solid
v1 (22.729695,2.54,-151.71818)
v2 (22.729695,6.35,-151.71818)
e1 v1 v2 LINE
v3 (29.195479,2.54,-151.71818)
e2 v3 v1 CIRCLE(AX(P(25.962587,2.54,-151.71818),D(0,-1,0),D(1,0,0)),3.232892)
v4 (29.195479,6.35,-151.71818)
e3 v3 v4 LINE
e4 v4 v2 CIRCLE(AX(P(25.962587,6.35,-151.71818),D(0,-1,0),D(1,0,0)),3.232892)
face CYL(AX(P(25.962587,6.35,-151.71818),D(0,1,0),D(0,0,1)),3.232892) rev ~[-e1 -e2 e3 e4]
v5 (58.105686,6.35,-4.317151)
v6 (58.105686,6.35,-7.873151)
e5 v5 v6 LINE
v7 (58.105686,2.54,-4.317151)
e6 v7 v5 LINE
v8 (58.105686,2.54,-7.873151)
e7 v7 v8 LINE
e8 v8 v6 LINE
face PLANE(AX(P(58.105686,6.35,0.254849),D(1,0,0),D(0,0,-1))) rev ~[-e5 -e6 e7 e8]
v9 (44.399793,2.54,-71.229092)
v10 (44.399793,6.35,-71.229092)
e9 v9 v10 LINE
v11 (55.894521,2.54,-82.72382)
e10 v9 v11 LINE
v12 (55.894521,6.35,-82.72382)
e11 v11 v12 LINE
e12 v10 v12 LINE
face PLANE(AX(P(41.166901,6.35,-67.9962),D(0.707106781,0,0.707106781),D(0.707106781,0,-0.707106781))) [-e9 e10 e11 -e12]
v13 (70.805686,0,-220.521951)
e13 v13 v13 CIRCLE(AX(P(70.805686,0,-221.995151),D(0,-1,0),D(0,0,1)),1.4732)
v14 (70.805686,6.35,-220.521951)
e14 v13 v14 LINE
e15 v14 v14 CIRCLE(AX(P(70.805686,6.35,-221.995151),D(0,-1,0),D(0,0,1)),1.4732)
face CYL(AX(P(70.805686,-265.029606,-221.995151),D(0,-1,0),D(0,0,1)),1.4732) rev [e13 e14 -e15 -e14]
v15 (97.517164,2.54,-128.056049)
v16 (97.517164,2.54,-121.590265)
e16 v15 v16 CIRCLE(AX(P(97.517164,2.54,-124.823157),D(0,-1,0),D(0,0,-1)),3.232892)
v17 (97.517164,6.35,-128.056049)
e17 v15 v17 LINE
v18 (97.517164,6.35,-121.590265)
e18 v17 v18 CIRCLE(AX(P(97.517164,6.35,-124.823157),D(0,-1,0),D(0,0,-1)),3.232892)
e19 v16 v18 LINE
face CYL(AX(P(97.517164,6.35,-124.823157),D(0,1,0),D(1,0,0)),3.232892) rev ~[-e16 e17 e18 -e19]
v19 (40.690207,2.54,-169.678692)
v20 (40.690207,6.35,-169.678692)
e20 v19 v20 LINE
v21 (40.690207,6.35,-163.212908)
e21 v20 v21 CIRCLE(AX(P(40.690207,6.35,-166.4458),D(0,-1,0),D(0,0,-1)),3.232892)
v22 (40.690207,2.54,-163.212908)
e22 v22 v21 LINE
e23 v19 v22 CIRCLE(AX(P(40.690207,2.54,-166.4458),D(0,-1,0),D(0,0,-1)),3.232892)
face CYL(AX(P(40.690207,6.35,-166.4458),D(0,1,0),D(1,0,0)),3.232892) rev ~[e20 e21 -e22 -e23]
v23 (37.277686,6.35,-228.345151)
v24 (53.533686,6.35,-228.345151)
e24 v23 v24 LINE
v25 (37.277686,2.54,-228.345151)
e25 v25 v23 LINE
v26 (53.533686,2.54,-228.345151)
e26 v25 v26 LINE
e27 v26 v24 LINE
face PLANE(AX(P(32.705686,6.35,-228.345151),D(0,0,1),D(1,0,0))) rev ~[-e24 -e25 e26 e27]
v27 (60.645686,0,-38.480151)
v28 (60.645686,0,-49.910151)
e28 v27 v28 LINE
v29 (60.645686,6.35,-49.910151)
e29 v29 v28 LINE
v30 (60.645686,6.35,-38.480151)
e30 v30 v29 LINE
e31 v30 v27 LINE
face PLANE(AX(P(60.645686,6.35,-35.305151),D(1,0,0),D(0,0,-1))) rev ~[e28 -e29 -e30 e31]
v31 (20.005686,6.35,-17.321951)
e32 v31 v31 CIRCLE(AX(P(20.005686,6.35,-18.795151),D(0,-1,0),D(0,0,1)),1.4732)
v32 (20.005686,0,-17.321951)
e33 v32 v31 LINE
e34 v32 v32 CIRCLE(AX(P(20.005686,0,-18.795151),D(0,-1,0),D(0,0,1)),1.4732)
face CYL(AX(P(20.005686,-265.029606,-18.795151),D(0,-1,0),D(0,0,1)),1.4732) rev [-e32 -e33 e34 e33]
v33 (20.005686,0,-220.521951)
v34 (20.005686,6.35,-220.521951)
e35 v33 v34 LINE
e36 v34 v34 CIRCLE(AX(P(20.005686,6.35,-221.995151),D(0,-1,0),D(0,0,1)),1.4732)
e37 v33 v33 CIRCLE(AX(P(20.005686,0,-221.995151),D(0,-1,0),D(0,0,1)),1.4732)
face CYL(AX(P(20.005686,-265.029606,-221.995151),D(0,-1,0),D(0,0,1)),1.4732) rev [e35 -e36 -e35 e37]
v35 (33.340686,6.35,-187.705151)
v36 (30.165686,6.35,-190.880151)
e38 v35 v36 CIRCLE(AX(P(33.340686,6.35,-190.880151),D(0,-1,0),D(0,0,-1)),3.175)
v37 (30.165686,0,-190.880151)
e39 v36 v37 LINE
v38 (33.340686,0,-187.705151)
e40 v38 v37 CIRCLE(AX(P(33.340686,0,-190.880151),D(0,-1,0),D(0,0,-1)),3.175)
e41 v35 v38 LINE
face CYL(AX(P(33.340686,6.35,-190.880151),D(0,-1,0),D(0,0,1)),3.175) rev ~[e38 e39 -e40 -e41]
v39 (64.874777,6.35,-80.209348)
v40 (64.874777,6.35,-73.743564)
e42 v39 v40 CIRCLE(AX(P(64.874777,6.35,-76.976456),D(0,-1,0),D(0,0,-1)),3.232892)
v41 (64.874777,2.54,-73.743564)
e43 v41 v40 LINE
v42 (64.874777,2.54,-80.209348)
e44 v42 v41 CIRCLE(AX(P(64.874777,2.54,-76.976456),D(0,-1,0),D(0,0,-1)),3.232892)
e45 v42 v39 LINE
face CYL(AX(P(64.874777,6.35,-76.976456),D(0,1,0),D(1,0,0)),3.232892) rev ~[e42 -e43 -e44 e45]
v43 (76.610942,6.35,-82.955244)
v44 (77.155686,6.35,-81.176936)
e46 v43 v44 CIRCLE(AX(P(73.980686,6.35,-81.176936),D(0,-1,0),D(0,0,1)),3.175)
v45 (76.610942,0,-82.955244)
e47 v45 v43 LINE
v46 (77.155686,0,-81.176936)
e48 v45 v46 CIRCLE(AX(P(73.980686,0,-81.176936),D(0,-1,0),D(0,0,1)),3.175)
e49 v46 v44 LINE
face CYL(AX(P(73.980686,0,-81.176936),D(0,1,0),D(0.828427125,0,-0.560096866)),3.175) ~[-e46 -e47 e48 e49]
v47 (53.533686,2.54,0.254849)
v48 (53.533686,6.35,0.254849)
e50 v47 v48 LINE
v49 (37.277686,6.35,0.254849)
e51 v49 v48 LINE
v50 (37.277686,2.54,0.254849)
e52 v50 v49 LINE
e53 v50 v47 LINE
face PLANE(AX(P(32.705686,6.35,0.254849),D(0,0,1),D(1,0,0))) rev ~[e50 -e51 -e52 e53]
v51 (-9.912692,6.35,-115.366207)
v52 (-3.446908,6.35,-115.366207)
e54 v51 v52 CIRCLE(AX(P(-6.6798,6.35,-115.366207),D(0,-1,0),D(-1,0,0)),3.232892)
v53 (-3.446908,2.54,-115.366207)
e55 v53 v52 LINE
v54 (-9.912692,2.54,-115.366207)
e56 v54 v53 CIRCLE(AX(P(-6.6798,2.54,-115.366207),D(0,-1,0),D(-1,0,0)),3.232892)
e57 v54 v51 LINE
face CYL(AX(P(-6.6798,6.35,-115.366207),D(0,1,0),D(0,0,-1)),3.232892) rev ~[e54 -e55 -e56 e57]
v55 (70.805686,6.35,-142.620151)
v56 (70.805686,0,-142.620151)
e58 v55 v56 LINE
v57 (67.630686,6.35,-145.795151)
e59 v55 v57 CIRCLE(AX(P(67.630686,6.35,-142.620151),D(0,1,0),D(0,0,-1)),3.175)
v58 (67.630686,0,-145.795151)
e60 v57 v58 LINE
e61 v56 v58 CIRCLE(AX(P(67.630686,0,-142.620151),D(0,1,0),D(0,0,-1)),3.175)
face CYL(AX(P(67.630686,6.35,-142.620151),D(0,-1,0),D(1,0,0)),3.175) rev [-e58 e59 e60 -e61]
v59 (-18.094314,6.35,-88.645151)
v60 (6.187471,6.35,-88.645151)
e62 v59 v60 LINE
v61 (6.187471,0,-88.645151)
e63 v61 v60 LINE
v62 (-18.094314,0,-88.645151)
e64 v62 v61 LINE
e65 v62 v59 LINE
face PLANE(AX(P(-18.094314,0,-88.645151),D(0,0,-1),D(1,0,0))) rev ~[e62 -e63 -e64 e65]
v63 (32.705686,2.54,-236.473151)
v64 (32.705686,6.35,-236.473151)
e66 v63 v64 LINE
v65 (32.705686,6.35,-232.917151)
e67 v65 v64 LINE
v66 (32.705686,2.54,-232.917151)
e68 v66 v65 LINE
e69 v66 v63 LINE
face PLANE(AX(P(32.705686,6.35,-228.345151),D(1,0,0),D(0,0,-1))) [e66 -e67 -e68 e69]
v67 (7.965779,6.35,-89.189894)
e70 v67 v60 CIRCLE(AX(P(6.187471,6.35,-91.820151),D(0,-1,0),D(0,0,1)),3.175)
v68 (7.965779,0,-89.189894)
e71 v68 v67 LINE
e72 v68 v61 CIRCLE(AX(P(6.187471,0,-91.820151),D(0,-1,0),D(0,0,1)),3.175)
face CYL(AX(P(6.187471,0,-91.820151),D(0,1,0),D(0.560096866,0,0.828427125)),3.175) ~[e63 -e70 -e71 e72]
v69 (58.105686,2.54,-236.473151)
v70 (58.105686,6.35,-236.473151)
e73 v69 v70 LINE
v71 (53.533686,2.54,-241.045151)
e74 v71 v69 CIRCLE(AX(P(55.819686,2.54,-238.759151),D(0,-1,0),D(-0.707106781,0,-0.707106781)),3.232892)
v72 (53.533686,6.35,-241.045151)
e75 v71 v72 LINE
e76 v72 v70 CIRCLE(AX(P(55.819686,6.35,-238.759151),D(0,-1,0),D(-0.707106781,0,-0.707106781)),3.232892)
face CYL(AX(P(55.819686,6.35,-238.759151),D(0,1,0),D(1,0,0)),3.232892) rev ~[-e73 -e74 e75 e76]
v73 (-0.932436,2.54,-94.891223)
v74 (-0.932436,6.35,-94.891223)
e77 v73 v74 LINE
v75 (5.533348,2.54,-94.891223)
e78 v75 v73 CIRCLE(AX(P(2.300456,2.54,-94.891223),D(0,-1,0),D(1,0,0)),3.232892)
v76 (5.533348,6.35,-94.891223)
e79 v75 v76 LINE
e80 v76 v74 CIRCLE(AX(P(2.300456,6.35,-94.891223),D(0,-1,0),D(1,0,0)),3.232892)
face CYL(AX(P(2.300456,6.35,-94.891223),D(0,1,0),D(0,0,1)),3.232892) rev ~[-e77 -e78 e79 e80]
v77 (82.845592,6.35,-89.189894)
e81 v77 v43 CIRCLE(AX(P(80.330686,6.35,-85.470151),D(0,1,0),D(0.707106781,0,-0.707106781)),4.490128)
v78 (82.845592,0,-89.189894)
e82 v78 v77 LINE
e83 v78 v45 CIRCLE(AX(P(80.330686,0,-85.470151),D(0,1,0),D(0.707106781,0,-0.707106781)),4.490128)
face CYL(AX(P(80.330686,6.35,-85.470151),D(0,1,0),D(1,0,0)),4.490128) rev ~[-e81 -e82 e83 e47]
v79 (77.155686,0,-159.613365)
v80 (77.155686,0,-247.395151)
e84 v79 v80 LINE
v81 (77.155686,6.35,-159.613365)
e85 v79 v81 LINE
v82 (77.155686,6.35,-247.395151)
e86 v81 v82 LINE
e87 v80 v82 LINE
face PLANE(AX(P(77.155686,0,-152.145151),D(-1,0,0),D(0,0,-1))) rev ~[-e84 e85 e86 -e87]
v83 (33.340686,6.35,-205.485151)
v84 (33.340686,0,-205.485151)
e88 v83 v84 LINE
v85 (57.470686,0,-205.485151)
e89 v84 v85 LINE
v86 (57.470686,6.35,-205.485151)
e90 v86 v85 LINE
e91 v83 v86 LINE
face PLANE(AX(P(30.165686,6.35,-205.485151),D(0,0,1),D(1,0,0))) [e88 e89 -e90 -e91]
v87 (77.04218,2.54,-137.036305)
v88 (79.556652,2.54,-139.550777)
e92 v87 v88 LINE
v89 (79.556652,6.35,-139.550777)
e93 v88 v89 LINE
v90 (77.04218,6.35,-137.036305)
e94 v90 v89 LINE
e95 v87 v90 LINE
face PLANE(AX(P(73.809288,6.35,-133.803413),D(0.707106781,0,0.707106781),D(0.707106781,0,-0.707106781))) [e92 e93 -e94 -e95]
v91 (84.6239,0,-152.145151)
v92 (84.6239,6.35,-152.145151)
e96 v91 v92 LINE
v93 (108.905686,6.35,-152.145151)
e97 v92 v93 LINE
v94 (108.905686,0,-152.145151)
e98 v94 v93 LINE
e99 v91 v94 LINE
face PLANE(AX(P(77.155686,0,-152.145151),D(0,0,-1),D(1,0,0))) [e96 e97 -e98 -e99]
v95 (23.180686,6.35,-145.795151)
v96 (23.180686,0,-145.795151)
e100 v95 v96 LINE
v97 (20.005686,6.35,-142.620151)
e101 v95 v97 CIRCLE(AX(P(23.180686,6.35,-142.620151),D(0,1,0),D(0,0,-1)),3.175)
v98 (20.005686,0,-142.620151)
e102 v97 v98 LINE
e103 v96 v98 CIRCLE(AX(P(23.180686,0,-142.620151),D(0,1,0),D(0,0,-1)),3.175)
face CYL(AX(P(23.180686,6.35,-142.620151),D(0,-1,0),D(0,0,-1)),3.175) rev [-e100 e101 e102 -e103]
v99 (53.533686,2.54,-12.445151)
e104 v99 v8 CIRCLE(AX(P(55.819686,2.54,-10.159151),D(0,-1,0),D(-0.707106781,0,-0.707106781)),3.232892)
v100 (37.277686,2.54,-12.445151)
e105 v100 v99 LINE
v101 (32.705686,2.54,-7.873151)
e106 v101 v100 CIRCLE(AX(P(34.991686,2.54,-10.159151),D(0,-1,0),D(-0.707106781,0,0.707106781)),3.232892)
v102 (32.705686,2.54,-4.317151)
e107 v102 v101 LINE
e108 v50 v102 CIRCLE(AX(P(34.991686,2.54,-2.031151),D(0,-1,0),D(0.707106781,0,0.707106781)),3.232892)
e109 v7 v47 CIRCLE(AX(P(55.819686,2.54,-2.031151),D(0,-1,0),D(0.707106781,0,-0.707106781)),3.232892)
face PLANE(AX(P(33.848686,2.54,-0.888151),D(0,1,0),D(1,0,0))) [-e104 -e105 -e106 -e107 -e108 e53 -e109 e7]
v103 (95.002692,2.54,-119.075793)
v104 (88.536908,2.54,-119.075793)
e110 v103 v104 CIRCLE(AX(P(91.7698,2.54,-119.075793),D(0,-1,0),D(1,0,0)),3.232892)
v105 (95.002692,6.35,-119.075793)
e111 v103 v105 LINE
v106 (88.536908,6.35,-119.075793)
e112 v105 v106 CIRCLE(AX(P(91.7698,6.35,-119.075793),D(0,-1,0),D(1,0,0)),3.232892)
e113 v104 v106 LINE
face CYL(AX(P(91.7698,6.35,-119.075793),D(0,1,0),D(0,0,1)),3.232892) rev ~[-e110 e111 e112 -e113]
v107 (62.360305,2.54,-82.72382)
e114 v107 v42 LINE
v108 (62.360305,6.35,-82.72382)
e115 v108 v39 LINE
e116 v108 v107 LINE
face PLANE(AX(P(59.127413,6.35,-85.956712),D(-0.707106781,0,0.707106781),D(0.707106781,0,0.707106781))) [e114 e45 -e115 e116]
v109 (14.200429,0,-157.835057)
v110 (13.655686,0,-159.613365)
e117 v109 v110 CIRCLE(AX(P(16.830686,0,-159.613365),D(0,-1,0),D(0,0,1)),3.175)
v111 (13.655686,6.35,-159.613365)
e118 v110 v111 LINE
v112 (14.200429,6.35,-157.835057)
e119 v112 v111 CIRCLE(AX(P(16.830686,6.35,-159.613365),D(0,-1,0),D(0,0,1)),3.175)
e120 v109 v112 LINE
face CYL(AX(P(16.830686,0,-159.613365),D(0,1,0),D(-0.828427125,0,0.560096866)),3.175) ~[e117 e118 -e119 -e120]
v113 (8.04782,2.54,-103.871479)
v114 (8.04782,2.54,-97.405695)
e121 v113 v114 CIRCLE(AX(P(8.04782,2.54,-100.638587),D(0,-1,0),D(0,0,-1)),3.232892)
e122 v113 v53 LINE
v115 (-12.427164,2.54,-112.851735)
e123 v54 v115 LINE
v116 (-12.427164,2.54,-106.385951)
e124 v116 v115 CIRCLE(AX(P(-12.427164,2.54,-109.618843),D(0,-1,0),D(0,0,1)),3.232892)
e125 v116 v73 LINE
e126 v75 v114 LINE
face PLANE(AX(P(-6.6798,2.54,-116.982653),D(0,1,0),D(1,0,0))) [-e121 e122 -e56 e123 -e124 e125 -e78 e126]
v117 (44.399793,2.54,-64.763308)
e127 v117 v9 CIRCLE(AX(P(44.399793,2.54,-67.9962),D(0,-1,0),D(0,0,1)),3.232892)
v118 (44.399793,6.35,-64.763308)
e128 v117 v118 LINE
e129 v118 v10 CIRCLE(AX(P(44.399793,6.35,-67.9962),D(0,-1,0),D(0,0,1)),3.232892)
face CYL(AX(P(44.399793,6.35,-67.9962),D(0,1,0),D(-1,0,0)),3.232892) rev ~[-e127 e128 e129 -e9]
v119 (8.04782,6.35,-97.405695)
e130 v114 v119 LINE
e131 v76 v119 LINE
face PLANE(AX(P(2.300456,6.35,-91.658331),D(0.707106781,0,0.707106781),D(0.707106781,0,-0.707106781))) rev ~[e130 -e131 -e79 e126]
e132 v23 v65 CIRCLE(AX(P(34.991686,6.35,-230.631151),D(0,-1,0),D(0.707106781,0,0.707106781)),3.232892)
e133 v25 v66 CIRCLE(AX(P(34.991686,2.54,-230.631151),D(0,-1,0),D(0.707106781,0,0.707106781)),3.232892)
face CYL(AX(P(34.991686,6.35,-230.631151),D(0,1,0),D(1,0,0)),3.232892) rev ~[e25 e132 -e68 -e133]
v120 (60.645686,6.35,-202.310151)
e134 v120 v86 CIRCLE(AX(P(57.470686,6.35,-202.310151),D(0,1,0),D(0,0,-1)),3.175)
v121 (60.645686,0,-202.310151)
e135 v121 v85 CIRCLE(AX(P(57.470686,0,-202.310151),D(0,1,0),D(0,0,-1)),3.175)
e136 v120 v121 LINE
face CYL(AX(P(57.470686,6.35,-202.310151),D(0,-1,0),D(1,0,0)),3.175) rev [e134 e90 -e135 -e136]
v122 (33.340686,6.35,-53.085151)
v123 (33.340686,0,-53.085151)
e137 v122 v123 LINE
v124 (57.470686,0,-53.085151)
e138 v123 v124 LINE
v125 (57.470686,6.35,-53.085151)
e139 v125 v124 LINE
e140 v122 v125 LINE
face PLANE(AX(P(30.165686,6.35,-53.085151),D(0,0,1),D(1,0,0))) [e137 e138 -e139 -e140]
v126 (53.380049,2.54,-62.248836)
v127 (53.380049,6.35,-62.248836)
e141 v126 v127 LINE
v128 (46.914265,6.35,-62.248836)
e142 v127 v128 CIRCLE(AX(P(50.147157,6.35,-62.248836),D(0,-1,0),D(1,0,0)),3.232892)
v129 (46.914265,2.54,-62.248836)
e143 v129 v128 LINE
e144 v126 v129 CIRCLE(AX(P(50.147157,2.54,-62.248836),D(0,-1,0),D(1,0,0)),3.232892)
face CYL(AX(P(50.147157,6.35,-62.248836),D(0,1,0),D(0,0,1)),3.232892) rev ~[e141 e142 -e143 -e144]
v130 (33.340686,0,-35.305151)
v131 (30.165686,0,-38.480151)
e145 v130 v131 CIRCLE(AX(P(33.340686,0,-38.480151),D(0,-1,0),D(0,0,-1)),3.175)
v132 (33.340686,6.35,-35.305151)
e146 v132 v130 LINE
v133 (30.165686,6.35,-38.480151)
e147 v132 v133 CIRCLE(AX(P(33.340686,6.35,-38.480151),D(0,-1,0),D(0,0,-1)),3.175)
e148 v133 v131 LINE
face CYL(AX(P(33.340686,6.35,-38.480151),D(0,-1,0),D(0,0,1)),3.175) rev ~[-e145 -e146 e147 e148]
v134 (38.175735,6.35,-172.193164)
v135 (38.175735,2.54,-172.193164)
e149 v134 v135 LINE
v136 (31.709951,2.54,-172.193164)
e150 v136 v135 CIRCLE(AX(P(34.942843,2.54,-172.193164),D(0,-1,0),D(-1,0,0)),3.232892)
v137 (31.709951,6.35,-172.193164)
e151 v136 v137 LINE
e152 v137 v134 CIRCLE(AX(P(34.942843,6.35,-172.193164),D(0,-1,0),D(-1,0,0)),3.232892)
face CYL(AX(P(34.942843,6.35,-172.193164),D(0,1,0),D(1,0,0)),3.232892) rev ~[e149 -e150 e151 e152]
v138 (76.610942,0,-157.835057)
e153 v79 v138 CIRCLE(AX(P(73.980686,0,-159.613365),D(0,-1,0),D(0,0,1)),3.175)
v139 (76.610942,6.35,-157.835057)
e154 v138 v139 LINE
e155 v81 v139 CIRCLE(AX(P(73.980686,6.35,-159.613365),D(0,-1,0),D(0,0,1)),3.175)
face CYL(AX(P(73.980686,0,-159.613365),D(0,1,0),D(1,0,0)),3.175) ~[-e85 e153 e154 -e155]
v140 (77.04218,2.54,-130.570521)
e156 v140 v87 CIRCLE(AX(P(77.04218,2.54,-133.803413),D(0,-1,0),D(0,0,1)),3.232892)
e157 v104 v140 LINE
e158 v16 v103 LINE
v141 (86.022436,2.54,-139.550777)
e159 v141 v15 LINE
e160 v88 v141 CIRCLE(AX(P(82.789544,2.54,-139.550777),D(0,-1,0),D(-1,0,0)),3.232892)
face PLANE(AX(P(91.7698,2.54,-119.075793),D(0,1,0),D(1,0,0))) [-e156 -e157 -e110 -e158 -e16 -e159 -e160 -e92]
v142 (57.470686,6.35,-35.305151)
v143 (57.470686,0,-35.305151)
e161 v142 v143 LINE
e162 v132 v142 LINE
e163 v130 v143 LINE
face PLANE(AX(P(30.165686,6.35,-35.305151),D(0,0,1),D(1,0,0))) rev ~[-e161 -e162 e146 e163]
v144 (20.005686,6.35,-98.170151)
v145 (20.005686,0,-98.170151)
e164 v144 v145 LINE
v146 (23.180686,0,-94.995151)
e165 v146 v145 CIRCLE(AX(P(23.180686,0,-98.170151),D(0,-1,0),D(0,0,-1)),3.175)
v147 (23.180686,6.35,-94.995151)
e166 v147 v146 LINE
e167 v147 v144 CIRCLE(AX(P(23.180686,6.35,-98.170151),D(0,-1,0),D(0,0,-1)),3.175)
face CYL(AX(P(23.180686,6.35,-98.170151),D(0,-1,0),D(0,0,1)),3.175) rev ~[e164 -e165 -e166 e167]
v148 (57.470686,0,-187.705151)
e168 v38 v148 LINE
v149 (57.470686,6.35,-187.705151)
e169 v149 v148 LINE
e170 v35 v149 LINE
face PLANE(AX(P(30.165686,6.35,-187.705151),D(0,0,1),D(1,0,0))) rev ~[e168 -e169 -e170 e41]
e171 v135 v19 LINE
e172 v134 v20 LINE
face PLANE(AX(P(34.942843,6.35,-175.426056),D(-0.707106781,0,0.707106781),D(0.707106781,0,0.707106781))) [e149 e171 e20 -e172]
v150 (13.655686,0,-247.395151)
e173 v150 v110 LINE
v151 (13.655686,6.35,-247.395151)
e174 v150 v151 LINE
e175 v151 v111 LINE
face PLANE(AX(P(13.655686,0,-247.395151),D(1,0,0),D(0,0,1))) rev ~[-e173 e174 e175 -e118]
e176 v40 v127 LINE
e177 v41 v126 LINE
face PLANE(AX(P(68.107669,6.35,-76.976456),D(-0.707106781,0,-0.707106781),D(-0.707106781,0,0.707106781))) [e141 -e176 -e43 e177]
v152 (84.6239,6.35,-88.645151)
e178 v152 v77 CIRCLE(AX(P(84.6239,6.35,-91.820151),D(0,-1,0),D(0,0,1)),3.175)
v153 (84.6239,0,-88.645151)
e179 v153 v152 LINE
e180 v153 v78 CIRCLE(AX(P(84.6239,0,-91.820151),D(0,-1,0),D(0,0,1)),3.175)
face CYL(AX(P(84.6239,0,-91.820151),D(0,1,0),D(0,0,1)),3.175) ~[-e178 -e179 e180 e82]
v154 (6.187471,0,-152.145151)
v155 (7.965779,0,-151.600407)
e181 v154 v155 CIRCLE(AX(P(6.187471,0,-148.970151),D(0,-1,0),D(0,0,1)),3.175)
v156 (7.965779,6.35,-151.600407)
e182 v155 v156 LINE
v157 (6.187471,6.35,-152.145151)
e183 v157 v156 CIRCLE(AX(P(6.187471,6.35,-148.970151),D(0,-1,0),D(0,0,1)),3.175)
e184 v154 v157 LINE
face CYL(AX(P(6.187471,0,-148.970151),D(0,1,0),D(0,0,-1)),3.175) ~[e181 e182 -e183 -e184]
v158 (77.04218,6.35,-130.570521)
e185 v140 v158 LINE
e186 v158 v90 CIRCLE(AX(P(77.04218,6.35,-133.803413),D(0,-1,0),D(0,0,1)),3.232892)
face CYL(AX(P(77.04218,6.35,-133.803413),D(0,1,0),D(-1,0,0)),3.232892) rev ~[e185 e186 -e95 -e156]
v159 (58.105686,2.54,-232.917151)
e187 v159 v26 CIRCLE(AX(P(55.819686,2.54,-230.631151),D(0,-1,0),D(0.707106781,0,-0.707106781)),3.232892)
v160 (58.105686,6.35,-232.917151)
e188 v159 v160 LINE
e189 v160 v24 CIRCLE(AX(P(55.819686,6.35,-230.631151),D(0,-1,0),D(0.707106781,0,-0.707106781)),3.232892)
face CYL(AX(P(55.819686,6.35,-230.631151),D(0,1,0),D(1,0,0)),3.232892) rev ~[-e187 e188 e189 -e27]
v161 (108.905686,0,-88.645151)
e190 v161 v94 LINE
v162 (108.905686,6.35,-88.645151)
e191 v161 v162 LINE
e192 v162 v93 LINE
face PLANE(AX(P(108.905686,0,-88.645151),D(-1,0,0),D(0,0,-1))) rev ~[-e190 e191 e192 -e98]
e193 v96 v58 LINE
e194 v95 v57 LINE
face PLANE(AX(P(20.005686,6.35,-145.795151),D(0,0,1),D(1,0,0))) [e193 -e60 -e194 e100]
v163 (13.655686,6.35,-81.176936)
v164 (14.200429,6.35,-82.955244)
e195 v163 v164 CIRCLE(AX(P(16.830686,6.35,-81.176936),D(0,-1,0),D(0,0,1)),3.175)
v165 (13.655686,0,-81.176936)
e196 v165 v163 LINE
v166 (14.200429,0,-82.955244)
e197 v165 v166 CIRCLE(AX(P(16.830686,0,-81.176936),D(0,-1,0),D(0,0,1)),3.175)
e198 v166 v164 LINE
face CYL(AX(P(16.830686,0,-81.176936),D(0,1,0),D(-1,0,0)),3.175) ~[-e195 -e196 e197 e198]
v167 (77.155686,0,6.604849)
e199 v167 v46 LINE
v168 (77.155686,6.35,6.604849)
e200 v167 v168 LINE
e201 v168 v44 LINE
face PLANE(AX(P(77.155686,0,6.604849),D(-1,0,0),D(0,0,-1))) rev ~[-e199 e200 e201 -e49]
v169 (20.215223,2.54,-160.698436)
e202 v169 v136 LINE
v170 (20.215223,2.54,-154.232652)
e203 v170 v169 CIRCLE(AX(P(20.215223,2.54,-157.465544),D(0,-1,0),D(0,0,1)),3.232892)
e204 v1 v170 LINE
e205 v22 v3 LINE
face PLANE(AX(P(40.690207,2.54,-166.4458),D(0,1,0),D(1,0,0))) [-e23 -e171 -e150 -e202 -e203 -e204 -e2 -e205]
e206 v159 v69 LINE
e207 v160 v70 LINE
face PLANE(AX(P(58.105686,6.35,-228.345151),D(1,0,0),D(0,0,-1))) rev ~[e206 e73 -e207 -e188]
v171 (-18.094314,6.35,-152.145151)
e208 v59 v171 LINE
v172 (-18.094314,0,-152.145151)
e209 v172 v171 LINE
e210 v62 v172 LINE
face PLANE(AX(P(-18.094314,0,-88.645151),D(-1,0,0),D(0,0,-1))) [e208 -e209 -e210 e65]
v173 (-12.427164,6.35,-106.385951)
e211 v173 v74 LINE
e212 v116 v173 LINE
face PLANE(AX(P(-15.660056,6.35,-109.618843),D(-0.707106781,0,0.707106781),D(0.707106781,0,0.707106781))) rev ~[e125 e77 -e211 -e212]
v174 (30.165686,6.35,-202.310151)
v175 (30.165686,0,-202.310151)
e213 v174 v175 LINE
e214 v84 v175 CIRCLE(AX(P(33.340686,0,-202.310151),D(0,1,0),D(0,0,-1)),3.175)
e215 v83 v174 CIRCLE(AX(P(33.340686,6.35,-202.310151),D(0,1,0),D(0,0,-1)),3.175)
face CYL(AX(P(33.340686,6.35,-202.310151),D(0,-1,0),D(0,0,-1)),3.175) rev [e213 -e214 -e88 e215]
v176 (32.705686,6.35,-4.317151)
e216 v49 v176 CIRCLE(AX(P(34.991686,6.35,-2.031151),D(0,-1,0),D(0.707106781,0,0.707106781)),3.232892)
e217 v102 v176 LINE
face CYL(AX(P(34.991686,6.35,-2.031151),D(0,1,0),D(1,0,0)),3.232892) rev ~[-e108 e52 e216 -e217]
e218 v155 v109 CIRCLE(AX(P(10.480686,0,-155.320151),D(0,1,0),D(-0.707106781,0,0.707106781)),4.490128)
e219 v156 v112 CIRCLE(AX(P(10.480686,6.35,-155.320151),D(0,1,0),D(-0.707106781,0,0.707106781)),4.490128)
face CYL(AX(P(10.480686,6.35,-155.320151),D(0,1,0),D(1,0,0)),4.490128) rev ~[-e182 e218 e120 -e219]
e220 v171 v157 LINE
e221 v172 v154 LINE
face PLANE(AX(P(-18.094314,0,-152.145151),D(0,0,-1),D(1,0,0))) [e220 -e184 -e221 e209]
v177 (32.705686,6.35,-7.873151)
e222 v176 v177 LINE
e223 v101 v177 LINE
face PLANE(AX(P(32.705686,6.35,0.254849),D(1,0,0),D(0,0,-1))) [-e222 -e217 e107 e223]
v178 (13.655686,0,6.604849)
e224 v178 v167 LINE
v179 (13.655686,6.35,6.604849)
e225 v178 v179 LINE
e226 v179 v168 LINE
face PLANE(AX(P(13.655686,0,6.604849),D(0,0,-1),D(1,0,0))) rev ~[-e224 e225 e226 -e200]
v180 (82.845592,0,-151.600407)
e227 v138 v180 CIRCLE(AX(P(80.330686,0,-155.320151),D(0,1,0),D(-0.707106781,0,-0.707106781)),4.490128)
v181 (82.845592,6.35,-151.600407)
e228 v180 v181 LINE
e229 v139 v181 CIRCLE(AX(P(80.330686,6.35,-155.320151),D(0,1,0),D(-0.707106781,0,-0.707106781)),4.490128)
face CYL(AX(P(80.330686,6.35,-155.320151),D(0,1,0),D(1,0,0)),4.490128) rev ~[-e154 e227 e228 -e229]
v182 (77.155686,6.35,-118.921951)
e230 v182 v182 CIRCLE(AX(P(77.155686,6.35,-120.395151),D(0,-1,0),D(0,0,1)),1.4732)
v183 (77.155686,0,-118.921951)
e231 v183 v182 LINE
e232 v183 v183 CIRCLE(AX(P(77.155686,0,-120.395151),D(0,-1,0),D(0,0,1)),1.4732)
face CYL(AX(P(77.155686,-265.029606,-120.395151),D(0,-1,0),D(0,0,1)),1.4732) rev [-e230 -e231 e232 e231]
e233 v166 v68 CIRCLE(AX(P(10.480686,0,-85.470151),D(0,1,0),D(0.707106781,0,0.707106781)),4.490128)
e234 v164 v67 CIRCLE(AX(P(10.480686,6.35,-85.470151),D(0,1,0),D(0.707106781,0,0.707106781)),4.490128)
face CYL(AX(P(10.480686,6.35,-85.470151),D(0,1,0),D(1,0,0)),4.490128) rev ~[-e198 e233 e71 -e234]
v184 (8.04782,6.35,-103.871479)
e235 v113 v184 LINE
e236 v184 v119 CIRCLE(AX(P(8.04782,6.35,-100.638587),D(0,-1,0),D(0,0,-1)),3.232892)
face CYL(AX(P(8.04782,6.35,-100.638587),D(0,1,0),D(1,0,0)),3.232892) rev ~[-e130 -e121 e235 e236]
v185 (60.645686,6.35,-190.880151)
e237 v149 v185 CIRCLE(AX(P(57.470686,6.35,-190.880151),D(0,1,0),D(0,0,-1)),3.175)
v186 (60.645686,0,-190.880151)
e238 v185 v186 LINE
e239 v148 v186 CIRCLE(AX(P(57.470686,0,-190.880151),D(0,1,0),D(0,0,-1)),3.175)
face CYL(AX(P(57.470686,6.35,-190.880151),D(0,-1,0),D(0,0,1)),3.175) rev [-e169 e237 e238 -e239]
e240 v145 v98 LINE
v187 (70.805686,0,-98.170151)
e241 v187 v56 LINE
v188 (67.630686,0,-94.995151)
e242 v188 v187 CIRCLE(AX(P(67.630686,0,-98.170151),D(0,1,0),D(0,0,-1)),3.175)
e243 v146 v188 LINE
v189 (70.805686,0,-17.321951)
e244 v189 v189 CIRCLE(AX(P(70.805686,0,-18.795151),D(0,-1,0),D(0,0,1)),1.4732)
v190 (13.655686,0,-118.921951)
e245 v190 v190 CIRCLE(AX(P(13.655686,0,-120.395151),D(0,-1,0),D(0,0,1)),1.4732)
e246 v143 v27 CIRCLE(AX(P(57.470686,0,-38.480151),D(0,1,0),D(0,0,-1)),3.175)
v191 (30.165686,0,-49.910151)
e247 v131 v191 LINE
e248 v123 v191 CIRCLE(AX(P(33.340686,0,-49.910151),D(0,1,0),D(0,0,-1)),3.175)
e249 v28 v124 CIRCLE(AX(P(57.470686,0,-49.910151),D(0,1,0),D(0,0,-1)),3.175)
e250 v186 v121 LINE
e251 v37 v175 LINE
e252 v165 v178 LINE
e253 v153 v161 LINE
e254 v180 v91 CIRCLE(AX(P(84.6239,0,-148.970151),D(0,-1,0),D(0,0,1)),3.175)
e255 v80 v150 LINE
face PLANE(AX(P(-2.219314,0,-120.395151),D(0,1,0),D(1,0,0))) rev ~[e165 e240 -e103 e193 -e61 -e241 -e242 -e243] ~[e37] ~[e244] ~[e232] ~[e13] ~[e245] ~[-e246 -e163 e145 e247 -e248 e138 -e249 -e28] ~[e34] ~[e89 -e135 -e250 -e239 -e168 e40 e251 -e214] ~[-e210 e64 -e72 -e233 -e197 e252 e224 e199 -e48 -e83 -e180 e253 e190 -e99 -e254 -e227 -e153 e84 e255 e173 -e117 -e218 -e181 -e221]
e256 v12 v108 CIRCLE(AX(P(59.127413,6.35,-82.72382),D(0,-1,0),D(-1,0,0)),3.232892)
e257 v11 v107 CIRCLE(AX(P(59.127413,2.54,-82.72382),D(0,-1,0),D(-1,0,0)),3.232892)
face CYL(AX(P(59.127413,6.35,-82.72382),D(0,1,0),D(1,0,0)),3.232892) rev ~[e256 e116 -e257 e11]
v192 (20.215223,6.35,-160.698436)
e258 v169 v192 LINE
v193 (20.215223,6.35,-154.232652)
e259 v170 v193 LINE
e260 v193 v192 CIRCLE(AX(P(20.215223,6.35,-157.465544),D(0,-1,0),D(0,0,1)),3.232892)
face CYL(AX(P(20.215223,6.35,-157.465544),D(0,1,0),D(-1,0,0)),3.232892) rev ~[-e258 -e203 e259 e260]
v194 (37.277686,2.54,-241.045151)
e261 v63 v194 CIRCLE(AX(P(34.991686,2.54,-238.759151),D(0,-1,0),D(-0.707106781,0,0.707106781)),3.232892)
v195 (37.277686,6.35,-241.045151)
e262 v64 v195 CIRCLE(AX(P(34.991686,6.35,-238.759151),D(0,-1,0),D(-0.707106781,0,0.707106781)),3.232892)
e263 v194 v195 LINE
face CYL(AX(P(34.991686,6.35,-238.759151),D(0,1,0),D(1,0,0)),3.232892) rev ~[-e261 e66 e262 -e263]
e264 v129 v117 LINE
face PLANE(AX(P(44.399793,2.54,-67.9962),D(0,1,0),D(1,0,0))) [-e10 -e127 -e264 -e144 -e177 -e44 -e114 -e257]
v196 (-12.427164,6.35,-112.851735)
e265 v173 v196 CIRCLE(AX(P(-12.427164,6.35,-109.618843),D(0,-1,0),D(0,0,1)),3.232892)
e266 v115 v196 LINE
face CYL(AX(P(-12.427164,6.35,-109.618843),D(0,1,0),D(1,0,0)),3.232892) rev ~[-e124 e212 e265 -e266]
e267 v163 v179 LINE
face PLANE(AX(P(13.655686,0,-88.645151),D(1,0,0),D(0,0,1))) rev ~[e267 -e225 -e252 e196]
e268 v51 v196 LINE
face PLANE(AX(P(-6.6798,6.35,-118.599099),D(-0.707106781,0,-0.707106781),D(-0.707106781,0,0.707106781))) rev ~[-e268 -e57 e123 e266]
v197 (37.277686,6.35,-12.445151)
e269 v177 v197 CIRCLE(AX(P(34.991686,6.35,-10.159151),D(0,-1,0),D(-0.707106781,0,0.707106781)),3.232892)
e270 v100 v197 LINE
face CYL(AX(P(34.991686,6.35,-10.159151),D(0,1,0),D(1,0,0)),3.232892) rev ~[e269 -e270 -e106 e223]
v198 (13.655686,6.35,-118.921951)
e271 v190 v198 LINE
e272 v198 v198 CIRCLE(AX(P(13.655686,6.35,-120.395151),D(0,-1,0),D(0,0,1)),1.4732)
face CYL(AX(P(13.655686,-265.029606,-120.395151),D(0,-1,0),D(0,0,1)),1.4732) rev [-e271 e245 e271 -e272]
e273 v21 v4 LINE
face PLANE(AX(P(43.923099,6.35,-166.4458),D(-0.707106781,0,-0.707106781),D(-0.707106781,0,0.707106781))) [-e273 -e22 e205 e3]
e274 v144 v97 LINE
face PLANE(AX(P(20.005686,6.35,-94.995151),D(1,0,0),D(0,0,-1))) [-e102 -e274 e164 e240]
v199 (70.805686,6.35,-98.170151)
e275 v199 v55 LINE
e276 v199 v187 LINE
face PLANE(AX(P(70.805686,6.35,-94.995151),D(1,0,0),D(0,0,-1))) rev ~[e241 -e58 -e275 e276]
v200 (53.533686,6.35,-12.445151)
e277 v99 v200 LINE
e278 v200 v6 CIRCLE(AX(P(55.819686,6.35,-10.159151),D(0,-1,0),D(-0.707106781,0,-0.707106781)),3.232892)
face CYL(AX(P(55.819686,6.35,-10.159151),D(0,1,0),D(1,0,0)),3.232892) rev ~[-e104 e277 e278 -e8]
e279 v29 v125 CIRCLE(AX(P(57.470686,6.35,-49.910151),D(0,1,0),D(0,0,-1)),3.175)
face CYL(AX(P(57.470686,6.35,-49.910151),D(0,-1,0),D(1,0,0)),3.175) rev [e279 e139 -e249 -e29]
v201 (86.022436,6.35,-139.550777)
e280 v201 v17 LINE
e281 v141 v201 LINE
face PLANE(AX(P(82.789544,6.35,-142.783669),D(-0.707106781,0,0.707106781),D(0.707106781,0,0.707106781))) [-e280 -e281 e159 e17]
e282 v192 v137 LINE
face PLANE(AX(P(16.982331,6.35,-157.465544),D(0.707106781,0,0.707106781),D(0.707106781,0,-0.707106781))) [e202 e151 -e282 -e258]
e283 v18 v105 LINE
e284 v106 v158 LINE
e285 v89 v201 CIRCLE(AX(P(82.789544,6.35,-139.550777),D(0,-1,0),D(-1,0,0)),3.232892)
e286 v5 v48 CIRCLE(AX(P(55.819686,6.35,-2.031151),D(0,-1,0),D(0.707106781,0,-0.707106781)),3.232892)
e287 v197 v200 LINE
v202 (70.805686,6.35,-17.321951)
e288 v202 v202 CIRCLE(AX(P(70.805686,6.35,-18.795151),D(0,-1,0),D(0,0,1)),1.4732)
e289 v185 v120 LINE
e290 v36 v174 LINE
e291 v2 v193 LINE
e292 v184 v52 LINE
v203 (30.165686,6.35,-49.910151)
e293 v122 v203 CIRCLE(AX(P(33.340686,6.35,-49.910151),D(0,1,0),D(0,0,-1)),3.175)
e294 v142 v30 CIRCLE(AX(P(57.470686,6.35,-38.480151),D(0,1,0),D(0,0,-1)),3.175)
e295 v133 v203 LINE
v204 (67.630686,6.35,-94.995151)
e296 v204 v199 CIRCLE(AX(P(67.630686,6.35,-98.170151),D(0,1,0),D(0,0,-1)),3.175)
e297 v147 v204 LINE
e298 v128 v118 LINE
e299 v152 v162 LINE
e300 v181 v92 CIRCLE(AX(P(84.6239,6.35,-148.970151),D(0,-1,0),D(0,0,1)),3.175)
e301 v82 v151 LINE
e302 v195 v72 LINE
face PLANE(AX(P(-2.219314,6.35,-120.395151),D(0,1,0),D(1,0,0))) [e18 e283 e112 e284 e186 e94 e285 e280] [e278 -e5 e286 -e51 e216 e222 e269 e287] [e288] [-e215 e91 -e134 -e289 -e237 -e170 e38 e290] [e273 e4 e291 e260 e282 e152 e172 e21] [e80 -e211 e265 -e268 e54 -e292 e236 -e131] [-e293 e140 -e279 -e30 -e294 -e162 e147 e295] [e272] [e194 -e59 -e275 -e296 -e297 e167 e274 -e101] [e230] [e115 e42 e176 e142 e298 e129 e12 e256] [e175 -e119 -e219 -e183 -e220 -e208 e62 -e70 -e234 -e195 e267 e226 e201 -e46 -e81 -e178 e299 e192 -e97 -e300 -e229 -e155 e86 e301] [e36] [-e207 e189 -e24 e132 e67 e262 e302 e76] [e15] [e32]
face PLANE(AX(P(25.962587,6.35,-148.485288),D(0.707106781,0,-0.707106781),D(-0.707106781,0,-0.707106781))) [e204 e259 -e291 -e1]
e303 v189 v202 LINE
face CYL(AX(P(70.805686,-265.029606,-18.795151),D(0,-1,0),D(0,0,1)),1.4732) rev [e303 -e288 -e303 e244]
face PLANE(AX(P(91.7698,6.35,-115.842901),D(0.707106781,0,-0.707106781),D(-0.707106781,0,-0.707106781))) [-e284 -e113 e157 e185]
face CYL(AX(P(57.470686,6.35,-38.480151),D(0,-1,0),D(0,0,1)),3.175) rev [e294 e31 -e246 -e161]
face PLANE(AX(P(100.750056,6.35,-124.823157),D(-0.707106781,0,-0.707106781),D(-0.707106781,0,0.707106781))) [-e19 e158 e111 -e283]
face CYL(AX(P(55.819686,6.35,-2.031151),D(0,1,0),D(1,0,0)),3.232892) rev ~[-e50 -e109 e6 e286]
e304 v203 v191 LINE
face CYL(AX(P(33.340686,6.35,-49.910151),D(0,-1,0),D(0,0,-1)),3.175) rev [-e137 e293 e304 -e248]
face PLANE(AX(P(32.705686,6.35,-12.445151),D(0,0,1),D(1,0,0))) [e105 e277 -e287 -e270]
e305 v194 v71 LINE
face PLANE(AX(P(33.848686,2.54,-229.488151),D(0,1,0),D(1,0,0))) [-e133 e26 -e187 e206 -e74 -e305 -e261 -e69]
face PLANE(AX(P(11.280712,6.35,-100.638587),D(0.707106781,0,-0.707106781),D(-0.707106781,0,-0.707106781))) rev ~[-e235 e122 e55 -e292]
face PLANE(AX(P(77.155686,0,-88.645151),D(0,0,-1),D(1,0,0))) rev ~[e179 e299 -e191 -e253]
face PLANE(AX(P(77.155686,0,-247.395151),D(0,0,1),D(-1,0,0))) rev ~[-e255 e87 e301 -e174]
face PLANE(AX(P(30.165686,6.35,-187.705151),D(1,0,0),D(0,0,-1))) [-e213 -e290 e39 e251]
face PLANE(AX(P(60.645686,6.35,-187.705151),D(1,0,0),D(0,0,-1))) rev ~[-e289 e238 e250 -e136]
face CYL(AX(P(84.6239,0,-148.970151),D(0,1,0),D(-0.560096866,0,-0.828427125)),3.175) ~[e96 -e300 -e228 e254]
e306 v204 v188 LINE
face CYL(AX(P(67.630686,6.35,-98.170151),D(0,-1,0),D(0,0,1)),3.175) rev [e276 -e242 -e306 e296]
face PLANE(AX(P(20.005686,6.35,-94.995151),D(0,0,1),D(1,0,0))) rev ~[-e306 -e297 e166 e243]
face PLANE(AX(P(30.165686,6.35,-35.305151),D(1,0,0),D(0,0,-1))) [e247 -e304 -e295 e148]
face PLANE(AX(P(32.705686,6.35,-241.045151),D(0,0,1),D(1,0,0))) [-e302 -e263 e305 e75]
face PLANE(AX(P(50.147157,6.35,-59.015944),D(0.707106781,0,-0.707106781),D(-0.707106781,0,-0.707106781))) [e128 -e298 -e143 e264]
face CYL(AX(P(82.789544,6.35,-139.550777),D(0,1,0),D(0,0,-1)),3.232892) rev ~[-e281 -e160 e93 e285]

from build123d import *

# Parameters (mm, degrees)
SKETCH1_W                = 31.75
SKETCH1_H                = 63.5
BOSS_EXTRUDE1_DEPTH      = 6.35
CUT_EXTRUDE14_DEPTH      = 3.81
SKETCH14_W               = 25.4
SKETCH14_H               = 12.7
CUT_EXTRUDE16_DEPTH      = 3.81
SKETCH15_W               = 30.48
SKETCH15_H               = 17.78
SKETCH15_W_2             = 50.8
SKETCH15_H_2             = 50.8
CUT_EXTRUDE17_DEPTH      = 271.379606021
FILLET1_R                = 3.175
SKETCH16_R               = 4.490128061
SKETCH16_W               = 3.175
SKETCH16_H               = 3.175
CUT_EXTRUDE18_DEPTH      = 271.379606021
FILLET2_R                = 3.175
SKETCH17_W               = 2.286
SKETCH17_H               = 2.286
SKETCH17_R               = 3.232892204
CUT_EXTRUDE19_DEPTH      = 3.81
SKETCH18_R               = 3.232892204
CUT_EXTRUDE20_DEPTH      = 3.81
SKETCH19_R               = 3.232892204
CUT_EXTRUDE22_DEPTH      = 3.81
CUT_EXTRUDE23_DEPTH      = 271.379606021
CUT_EXTRUDE23_DEPTH_BACK = 271.379606021
SKETCH20_R               = 1.4732


with BuildPart() as part:
    # Sketch1 → Boss-Extrude1 (new body)
    with BuildSketch(Plane(origin=(0, 0, 0), x_dir=(1, 0, 0), z_dir=(0, 1, 0))):
        with Locations((-2.219314381, 120.395150502)):
            Rectangle(SKETCH1_W, SKETCH1_H)
        Polygon((45.405685619, -6.604849498), (45.405685619, 247.395150502), (13.655685619, 247.395150502), (13.655685619, 152.145150502), (13.655685619, 88.645150502), (13.655685619, -6.604849498), align=None)
        Polygon((77.155685619, 247.395150502), (45.405685619, 247.395150502), (45.405685619, -6.604849498), (77.155685619, -6.604849498), (77.155685619, 88.645150502), (77.155685619, 152.145150502), align=None)
        with Locations((93.030685619, 120.395150502)):
            Rectangle(SKETCH1_W, SKETCH1_H)
    extrude(amount=BOSS_EXTRUDE1_DEPTH)

    # Sketch2 → Cut-Extrude14 (cut)
    with BuildSketch(Plane(origin=(0, 6.35, 0), x_dir=(1, 0, 0), z_dir=(0, 1, 0))):
        Polygon((-6.679799883, 118.599099277), (-15.660056005, 109.618843156), (2.300456238, 91.658330914), (11.280712359, 100.638587035), align=None)
        Polygon((25.962587035, 148.485287641), (16.982330914, 157.465543762), (34.942843156, 175.426056005), (43.923099277, 166.445799883), align=None)
        Polygon((73.809287641, 133.803412965), (82.789543762, 142.783669086), (100.750056005, 124.823156844), (91.769799883, 115.842900723), align=None)
        Polygon((59.127412965, 85.956712359), (68.107669086, 76.976456238), (50.147156844, 59.015943995), (41.166900723, 67.996200117), align=None)
    extrude(amount=-CUT_EXTRUDE14_DEPTH, mode=Mode.SUBTRACT)

    # Sketch14 → Cut-Extrude16 (cut)
    with BuildSketch(Plane(origin=(0, 6.35, 0), x_dir=(1, 0, 0), z_dir=(0, 1, 0))):
        with Locations((45.405685619, 234.695150502)):
            Rectangle(SKETCH14_W, SKETCH14_H)
        with Locations((45.405685619, 6.095150502)):
            Rectangle(SKETCH14_W, SKETCH14_H)
    extrude(amount=-CUT_EXTRUDE16_DEPTH, mode=Mode.SUBTRACT)

    # Sketch15 → Cut-Extrude17 (cut, through all)
    with BuildSketch(Plane(origin=(0, 6.35, 0), x_dir=(1, 0, 0), z_dir=(0, 1, 0))):
        with Locations((45.405685619, 44.195150502)):
            Rectangle(SKETCH15_W, SKETCH15_H)
        with Locations((45.405685619, 120.395150502)):
            Rectangle(SKETCH15_W_2, SKETCH15_H_2)
        with Locations((45.405685619, 196.595150502)):
            Rectangle(SKETCH15_W, SKETCH15_H)
    extrude(amount=-CUT_EXTRUDE17_DEPTH, mode=Mode.SUBTRACT)

    # Fillet1
    fillet1_edges = [part.edges().sort_by_distance(p)[0] for p in [
        (30.165685619, 3.175, -35.305150502),
        (30.165685619, 3.175, -53.085150502),
        (60.645685619, 3.175, -53.085150502),
        (60.645685619, 3.175, -35.305150502),
        (60.645685619, 3.175, -205.485150502),
        (60.645685619, 3.175, -187.705150502),
        (30.165685619, 3.175, -187.705150502),
        (30.165685619, 3.175, -205.485150502),
        (70.805685619, 3.175, -145.795150502),
        (70.805685619, 3.175, -94.995150502),
        (20.005685619, 3.175, -94.995150502),
        (20.005685619, 3.175, -145.795150502),
    ]]
    fillet(fillet1_edges, radius=FILLET1_R)

    # Sketch16 → Cut-Extrude18 (cut, through all)
    with BuildSketch(Plane(origin=(0, 6.35, 0), x_dir=(1, 0, 0), z_dir=(0, 1, 0))):
        with Locations((10.480685619, 85.470150502)):
            Circle(SKETCH16_R)
        with Locations((12.068185619, 87.057650502)):
            Rectangle(SKETCH16_W, SKETCH16_H)
        with Locations((12.068185619, 87.057650502)):
            Rectangle(SKETCH16_W, SKETCH16_H)
        with Locations((78.743185619, 87.057650502)):
            Rectangle(SKETCH16_W, SKETCH16_H)
        with Locations((80.330685619, 85.470150502)):
            Circle(SKETCH16_R)
        with Locations((78.743185619, 87.057650502)):
            Rectangle(SKETCH16_W, SKETCH16_H)
        with Locations((78.743185619, 153.732650502)):
            Rectangle(SKETCH16_W, SKETCH16_H)
        with Locations((80.330685619, 155.320150502)):
            Circle(SKETCH16_R)
        with Locations((78.743185619, 153.732650502)):
            Rectangle(SKETCH16_W, SKETCH16_H)
        with Locations((12.068185619, 153.732650502)):
            Rectangle(SKETCH16_W, SKETCH16_H)
        with Locations((10.480685619, 155.320150502)):
            Circle(SKETCH16_R)
        with Locations((12.068185619, 153.732650502)):
            Rectangle(SKETCH16_W, SKETCH16_H)
    extrude(amount=-CUT_EXTRUDE18_DEPTH, mode=Mode.SUBTRACT)

    # Fillet2
    fillet2_edges = [part.edges().sort_by_distance(p)[0] for p in [
        (7.305685619, 3.175, -152.145150502),
        (13.655685619, 3.175, -158.495150502),
        (83.505685619, 3.175, -152.145150502),
        (77.155685619, 3.175, -158.495150502),
        (77.155685619, 3.175, -82.295150502),
        (83.505685619, 3.175, -88.645150502),
        (7.305685619, 3.175, -88.645150502),
        (13.655685619, 3.175, -82.295150502),
    ]]
    fillet(fillet2_edges, radius=FILLET2_R)

    # Sketch17 → Cut-Extrude19 (cut)
    with BuildSketch(Plane(origin=(0, 6.35, 0), x_dir=(1, 0, 0), z_dir=(0, 1, 0))):
        with Locations((33.848685619, 239.902150502)):
            Rectangle(SKETCH17_W, SKETCH17_H)
        with Locations((34.991685619, 238.759150502)):
            Circle(SKETCH17_R)
        with Locations((33.848685619, 239.902150502)):
            Rectangle(SKETCH17_W, SKETCH17_H)
        with Locations((55.819685619, 238.759150502)):
            Circle(SKETCH17_R)
        with Locations((56.962685619, 239.902150502)):
            Rectangle(SKETCH17_W, SKETCH17_H)
        with Locations((56.962685619, 239.902150502)):
            Rectangle(SKETCH17_W, SKETCH17_H)
        with Locations((55.819685619, 230.631150502)):
            Circle(SKETCH17_R)
        with Locations((56.962685619, 229.488150502)):
            Rectangle(SKETCH17_W, SKETCH17_H)
        with Locations((56.962685619, 229.488150502)):
            Rectangle(SKETCH17_W, SKETCH17_H)
        with Locations((34.991685619, 230.631150502)):
            Circle(SKETCH17_R)
        with Locations((33.848685619, 229.488150502)):
            Rectangle(SKETCH17_W, SKETCH17_H)
        with Locations((33.848685619, 229.488150502)):
            Rectangle(SKETCH17_W, SKETCH17_H)
        with Locations((34.991685619, 2.031150502)):
            Circle(SKETCH17_R)
        with Locations((33.848685619, 0.888150502)):
            Rectangle(SKETCH17_W, SKETCH17_H)
        with Locations((33.848685619, 0.888150502)):
            Rectangle(SKETCH17_W, SKETCH17_H)
        with Locations((34.991685619, 10.159150502)):
            Circle(SKETCH17_R)
        with Locations((33.848685619, 11.302150502)):
            Rectangle(SKETCH17_W, SKETCH17_H)
        with Locations((33.848685619, 11.302150502)):
            Rectangle(SKETCH17_W, SKETCH17_H)
        with Locations((55.819685619, 10.159150502)):
            Circle(SKETCH17_R)
        with Locations((56.962685619, 11.302150502)):
            Rectangle(SKETCH17_W, SKETCH17_H)
        with Locations((56.962685619, 11.302150502)):
            Rectangle(SKETCH17_W, SKETCH17_H)
        with Locations((55.819685619, 2.031150502)):
            Circle(SKETCH17_R)
        with Locations((56.962685619, 0.888150502)):
            Rectangle(SKETCH17_W, SKETCH17_H)
        with Locations((56.962685619, 0.888150502)):
            Rectangle(SKETCH17_W, SKETCH17_H)
    extrude(amount=-CUT_EXTRUDE19_DEPTH, mode=Mode.SUBTRACT)

    # Sketch18 → Cut-Extrude20 (cut)
    with BuildSketch(Plane(origin=(0, 6.35, 0), x_dir=(1, 0, 0), z_dir=(0, 1, 0))):
        Polygon((-15.660056005, 109.618843156), (-14.043609903, 108.002397055), (-12.427163801, 109.618843156), (-14.043609903, 111.235289258), align=None)
        with Locations((-12.427163801, 109.618843156)):
            Circle(SKETCH18_R)
        Polygon((-15.660056005, 109.618843156), (-14.043609903, 108.002397055), (-12.427163801, 109.618843156), (-14.043609903, 111.235289258), align=None)
        Polygon((-6.679799883, 118.599099277), (-5.063353782, 116.982653176), (-6.679799883, 115.366207074), (-8.296245985, 116.982653176), align=None)
        with Locations((-6.679799883, 115.366207074)):
            Circle(SKETCH18_R)
        Polygon((-6.679799883, 118.599099277), (-8.296245985, 116.982653176), (-6.679799883, 115.366207074), (-5.063353782, 116.982653176), align=None)
        Polygon((9.664266257, 99.022140934), (8.047820155, 100.638587035), (9.664266257, 102.255033137), (11.280712359, 100.638587035), align=None)
        with Locations((8.047820155, 100.638587035)):
            Circle(SKETCH18_R)
        Polygon((11.280712359, 100.638587035), (9.664266257, 102.255033137), (8.047820155, 100.638587035), (9.664266257, 99.022140934), align=None)
        Polygon((2.300456238, 91.658330914), (0.684010136, 93.274777016), (2.300456238, 94.891223118), (3.916902339, 93.274777016), align=None)
        with Locations((2.300456238, 94.891223118)):
            Circle(SKETCH18_R)
        Polygon((2.300456238, 91.658330914), (3.916902339, 93.274777016), (2.300456238, 94.891223118), (0.684010136, 93.274777016), align=None)
    extrude(amount=-CUT_EXTRUDE20_DEPTH, mode=Mode.SUBTRACT)

    # Sketch19 → Cut-Extrude22 (cut)
    # profile 1 of 27: a face of its own
    with BuildSketch(Plane(origin=(0, 6.35, 0), x_dir=(1, 0, 0), z_dir=(0, 1, 0))):
        with Locations((44.399792926, 67.996200117)):
            Circle(SKETCH19_R)
        Polygon((41.166900723, 67.996200117), (42.783346824, 66.379754015), (44.399792926, 67.996200117), (42.783346824, 69.612646218), align=None, mode=Mode.SUBTRACT)
    # profile 2 of 27: a face of its own
    with BuildSketch(Plane(origin=(0, 6.35, 0), x_dir=(1, 0, 0), z_dir=(0, 1, 0))):
        with Locations((50.147156844, 62.248836199)):
            Circle(SKETCH19_R)
        Polygon((50.147156844, 59.015943995), (51.763602945, 60.632390097), (50.147156844, 62.248836199), (48.530710742, 60.632390097), align=None, mode=Mode.SUBTRACT)
    # profile 3 of 27: a face of its own
    with BuildSketch(Plane(origin=(0, 6.35, 0), x_dir=(1, 0, 0), z_dir=(0, 1, 0))):
        Polygon((50.147156844, 59.015943995), (48.530710742, 60.632390097), (50.147156844, 62.248836199), (51.763602945, 60.632390097), align=None)
    # profile 4 of 27: a face of its own
    with BuildSketch(Plane(origin=(0, 6.35, 0), x_dir=(1, 0, 0), z_dir=(0, 1, 0))):
        Polygon((59.127412965, 85.956712359), (60.743859066, 84.340266257), (59.127412965, 82.723820155), (57.510966863, 84.340266257), align=None)
    # profile 5 of 27: a face of its own
    with BuildSketch(Plane(origin=(0, 6.35, 0), x_dir=(1, 0, 0), z_dir=(0, 1, 0))):
        with Locations((59.127412965, 82.723820155)):
            Circle(SKETCH19_R)
    # profile 6 of 27: a face of its own
    with BuildSketch(Plane(origin=(0, 6.35, 0), x_dir=(1, 0, 0), z_dir=(0, 1, 0))):
        Polygon((59.127412965, 85.956712359), (57.510966863, 84.340266257), (59.127412965, 82.723820155), (60.743859066, 84.340266257), align=None)
    # profile 7 of 27: a face of its own
    with BuildSketch(Plane(origin=(0, 6.35, 0), x_dir=(1, 0, 0), z_dir=(0, 1, 0))):
        Polygon((66.491222984, 75.360010136), (64.874776882, 76.976456238), (66.491222984, 78.592902339), (68.107669086, 76.976456238), align=None)
    # profile 8 of 27: a face of its own
    with BuildSketch(Plane(origin=(0, 6.35, 0), x_dir=(1, 0, 0), z_dir=(0, 1, 0))):
        with Locations((64.874776882, 76.976456238)):
            Circle(SKETCH19_R)
    # profile 9 of 27: a face of its own
    with BuildSketch(Plane(origin=(0, 6.35, 0), x_dir=(1, 0, 0), z_dir=(0, 1, 0))):
        Polygon((68.107669086, 76.976456238), (66.491222984, 78.592902339), (64.874776882, 76.976456238), (66.491222984, 75.360010136), align=None)
    # profile 10 of 27: a face of its own
    with BuildSketch(Plane(origin=(0, 6.35, 0), x_dir=(1, 0, 0), z_dir=(0, 1, 0))):
        with Locations((91.769799883, 119.075792926)):
            Circle(SKETCH19_R)
        Polygon((91.769799883, 115.842900723), (93.386245985, 117.459346824), (91.769799883, 119.075792926), (90.153353782, 117.459346824), align=None, mode=Mode.SUBTRACT)
    # profile 11 of 27: a face of its own
    with BuildSketch(Plane(origin=(0, 6.35, 0), x_dir=(1, 0, 0), z_dir=(0, 1, 0))):
        Polygon((91.769799883, 115.842900723), (93.386245985, 117.459346824), (91.769799883, 119.075792926), (90.153353782, 117.459346824), align=None)
    # profile 12 of 27: a face of its own
    with BuildSketch(Plane(origin=(0, 6.35, 0), x_dir=(1, 0, 0), z_dir=(0, 1, 0))):
        with Locations((97.517163801, 124.823156844)):
            Circle(SKETCH19_R)
        Polygon((100.750056005, 124.823156844), (99.133609903, 126.439602945), (97.517163801, 124.823156844), (99.133609903, 123.206710742), align=None, mode=Mode.SUBTRACT)
    # profile 13 of 27: a face of its own
    with BuildSketch(Plane(origin=(0, 6.35, 0), x_dir=(1, 0, 0), z_dir=(0, 1, 0))):
        Polygon((100.750056005, 124.823156844), (99.133609903, 123.206710742), (97.517163801, 124.823156844), (99.133609903, 126.439602945), align=None)
    # profile 14 of 27: a face of its own
    with BuildSketch(Plane(origin=(0, 6.35, 0), x_dir=(1, 0, 0), z_dir=(0, 1, 0))):
        with Locations((82.789543762, 139.550776882)):
            Circle(SKETCH19_R)
        Polygon((82.789543762, 142.783669086), (81.173097661, 141.167222984), (82.789543762, 139.550776882), (84.405989864, 141.167222984), align=None, mode=Mode.SUBTRACT)
    # profile 15 of 27: a face of its own
    with BuildSketch(Plane(origin=(0, 6.35, 0), x_dir=(1, 0, 0), z_dir=(0, 1, 0))):
        Polygon((84.405989864, 141.167222984), (82.789543762, 139.550776882), (81.173097661, 141.167222984), (82.789543762, 142.783669086), align=None)
    # profile 16 of 27: a face of its own
    with BuildSketch(Plane(origin=(0, 6.35, 0), x_dir=(1, 0, 0), z_dir=(0, 1, 0))):
        with Locations((77.042179845, 133.803412965)):
            Circle(SKETCH19_R)
        Polygon((73.809287641, 133.803412965), (75.425733743, 132.186966863), (77.042179845, 133.803412965), (75.425733743, 135.419859066), align=None, mode=Mode.SUBTRACT)
    # profile 17 of 27: a face of its own
    with BuildSketch(Plane(origin=(0, 6.35, 0), x_dir=(1, 0, 0), z_dir=(0, 1, 0))):
        Polygon((73.809287641, 133.803412965), (75.425733743, 135.419859066), (77.042179845, 133.803412965), (75.425733743, 132.186966863), align=None)
    # profile 18 of 27: a face of its own
    with BuildSketch(Plane(origin=(0, 6.35, 0), x_dir=(1, 0, 0), z_dir=(0, 1, 0))):
        with Locations((25.962587035, 151.718179845)):
            Circle(SKETCH19_R)
        Polygon((25.962587035, 148.485287641), (27.579033137, 150.101733743), (25.962587035, 151.718179845), (24.346140934, 150.101733743), align=None, mode=Mode.SUBTRACT)
    # profile 19 of 27: a face of its own
    with BuildSketch(Plane(origin=(0, 6.35, 0), x_dir=(1, 0, 0), z_dir=(0, 1, 0))):
        Polygon((25.962587035, 148.485287641), (27.579033137, 150.101733743), (25.962587035, 151.718179845), (24.346140934, 150.101733743), align=None)
    # profile 20 of 27: a face of its own
    with BuildSketch(Plane(origin=(0, 6.35, 0), x_dir=(1, 0, 0), z_dir=(0, 1, 0))):
        with Locations((20.215223118, 157.465543762)):
            Circle(SKETCH19_R)
        Polygon((16.982330914, 157.465543762), (18.598777016, 155.849097661), (20.215223118, 157.465543762), (18.598777016, 159.081989864), align=None, mode=Mode.SUBTRACT)
    # profile 21 of 27: a face of its own
    with BuildSketch(Plane(origin=(0, 6.35, 0), x_dir=(1, 0, 0), z_dir=(0, 1, 0))):
        Polygon((16.982330914, 157.465543762), (18.598777016, 159.081989864), (20.215223118, 157.465543762), (18.598777016, 155.849097661), align=None)
    # profile 22 of 27: a face of its own
    with BuildSketch(Plane(origin=(0, 6.35, 0), x_dir=(1, 0, 0), z_dir=(0, 1, 0))):
        Polygon((36.559289258, 173.809609903), (34.942843156, 172.193163801), (33.326397055, 173.809609903), (34.942843156, 175.426056005), align=None)
    # profile 23 of 27: a face of its own
    with BuildSketch(Plane(origin=(0, 6.35, 0), x_dir=(1, 0, 0), z_dir=(0, 1, 0))):
        with Locations((34.942843156, 172.193163801)):
            Circle(SKETCH19_R)
    # profile 24 of 27: a face of its own
    with BuildSketch(Plane(origin=(0, 6.35, 0), x_dir=(1, 0, 0), z_dir=(0, 1, 0))):
        Polygon((34.942843156, 175.426056005), (33.326397055, 173.809609903), (34.942843156, 172.193163801), (36.559289258, 173.809609903), align=None)
    # profile 25 of 27: a face of its own
    with BuildSketch(Plane(origin=(0, 6.35, 0), x_dir=(1, 0, 0), z_dir=(0, 1, 0))):
        with Locations((40.690207074, 166.445799883)):
            Circle(SKETCH19_R)
        Polygon((43.923099277, 166.445799883), (42.306653176, 168.062245985), (40.690207074, 166.445799883), (42.306653176, 164.829353782), align=None, mode=Mode.SUBTRACT)
    # profile 26 of 27: a face of its own
    with BuildSketch(Plane(origin=(0, 6.35, 0), x_dir=(1, 0, 0), z_dir=(0, 1, 0))):
        Polygon((43.923099277, 166.445799883), (42.306653176, 164.829353782), (40.690207074, 166.445799883), (42.306653176, 168.062245985), align=None)
    # profile 27 of 27: a face of its own
    with BuildSketch(Plane(origin=(0, 6.35, 0), x_dir=(1, 0, 0), z_dir=(0, 1, 0))):
        Polygon((41.166900723, 67.996200117), (42.783346824, 66.379754015), (44.399792926, 67.996200117), (42.783346824, 69.612646218), align=None)
    extrude(amount=-CUT_EXTRUDE22_DEPTH, mode=Mode.SUBTRACT)

    # Sketch20 → Cut-Extrude23 (cut, two sides: drawn at the far end of the back side and taken through both)
    with BuildSketch(Plane(origin=(0, 6.35, 0), x_dir=(1, 0, 0), z_dir=(0, 1, 0)).offset(-CUT_EXTRUDE23_DEPTH_BACK)):
        with Locations(Location((20.005685619, 221.995150502, 0), (0, 0, 270))):
            Circle(SKETCH20_R)
        with Locations(Location((70.805685619, 221.995150502, 0), (0, 0, 270))):
            Circle(SKETCH20_R)
        with Locations(Location((70.805685619, 18.795150502, 0), (0, 0, 270))):
            Circle(SKETCH20_R)
        with Locations(Location((20.005685619, 18.795150502, 0), (0, 0, 270))):
            Circle(SKETCH20_R)
        with Locations(Location((13.655685619, 120.395150502, 0), (0, 0, 270))):
            Circle(SKETCH20_R)
        with Locations(Location((77.155685619, 120.395150502, 0), (0, 0, 270))):
            Circle(SKETCH20_R)
    extrude(amount=CUT_EXTRUDE23_DEPTH + CUT_EXTRUDE23_DEPTH_BACK, mode=Mode.SUBTRACT)


solid = part.part
